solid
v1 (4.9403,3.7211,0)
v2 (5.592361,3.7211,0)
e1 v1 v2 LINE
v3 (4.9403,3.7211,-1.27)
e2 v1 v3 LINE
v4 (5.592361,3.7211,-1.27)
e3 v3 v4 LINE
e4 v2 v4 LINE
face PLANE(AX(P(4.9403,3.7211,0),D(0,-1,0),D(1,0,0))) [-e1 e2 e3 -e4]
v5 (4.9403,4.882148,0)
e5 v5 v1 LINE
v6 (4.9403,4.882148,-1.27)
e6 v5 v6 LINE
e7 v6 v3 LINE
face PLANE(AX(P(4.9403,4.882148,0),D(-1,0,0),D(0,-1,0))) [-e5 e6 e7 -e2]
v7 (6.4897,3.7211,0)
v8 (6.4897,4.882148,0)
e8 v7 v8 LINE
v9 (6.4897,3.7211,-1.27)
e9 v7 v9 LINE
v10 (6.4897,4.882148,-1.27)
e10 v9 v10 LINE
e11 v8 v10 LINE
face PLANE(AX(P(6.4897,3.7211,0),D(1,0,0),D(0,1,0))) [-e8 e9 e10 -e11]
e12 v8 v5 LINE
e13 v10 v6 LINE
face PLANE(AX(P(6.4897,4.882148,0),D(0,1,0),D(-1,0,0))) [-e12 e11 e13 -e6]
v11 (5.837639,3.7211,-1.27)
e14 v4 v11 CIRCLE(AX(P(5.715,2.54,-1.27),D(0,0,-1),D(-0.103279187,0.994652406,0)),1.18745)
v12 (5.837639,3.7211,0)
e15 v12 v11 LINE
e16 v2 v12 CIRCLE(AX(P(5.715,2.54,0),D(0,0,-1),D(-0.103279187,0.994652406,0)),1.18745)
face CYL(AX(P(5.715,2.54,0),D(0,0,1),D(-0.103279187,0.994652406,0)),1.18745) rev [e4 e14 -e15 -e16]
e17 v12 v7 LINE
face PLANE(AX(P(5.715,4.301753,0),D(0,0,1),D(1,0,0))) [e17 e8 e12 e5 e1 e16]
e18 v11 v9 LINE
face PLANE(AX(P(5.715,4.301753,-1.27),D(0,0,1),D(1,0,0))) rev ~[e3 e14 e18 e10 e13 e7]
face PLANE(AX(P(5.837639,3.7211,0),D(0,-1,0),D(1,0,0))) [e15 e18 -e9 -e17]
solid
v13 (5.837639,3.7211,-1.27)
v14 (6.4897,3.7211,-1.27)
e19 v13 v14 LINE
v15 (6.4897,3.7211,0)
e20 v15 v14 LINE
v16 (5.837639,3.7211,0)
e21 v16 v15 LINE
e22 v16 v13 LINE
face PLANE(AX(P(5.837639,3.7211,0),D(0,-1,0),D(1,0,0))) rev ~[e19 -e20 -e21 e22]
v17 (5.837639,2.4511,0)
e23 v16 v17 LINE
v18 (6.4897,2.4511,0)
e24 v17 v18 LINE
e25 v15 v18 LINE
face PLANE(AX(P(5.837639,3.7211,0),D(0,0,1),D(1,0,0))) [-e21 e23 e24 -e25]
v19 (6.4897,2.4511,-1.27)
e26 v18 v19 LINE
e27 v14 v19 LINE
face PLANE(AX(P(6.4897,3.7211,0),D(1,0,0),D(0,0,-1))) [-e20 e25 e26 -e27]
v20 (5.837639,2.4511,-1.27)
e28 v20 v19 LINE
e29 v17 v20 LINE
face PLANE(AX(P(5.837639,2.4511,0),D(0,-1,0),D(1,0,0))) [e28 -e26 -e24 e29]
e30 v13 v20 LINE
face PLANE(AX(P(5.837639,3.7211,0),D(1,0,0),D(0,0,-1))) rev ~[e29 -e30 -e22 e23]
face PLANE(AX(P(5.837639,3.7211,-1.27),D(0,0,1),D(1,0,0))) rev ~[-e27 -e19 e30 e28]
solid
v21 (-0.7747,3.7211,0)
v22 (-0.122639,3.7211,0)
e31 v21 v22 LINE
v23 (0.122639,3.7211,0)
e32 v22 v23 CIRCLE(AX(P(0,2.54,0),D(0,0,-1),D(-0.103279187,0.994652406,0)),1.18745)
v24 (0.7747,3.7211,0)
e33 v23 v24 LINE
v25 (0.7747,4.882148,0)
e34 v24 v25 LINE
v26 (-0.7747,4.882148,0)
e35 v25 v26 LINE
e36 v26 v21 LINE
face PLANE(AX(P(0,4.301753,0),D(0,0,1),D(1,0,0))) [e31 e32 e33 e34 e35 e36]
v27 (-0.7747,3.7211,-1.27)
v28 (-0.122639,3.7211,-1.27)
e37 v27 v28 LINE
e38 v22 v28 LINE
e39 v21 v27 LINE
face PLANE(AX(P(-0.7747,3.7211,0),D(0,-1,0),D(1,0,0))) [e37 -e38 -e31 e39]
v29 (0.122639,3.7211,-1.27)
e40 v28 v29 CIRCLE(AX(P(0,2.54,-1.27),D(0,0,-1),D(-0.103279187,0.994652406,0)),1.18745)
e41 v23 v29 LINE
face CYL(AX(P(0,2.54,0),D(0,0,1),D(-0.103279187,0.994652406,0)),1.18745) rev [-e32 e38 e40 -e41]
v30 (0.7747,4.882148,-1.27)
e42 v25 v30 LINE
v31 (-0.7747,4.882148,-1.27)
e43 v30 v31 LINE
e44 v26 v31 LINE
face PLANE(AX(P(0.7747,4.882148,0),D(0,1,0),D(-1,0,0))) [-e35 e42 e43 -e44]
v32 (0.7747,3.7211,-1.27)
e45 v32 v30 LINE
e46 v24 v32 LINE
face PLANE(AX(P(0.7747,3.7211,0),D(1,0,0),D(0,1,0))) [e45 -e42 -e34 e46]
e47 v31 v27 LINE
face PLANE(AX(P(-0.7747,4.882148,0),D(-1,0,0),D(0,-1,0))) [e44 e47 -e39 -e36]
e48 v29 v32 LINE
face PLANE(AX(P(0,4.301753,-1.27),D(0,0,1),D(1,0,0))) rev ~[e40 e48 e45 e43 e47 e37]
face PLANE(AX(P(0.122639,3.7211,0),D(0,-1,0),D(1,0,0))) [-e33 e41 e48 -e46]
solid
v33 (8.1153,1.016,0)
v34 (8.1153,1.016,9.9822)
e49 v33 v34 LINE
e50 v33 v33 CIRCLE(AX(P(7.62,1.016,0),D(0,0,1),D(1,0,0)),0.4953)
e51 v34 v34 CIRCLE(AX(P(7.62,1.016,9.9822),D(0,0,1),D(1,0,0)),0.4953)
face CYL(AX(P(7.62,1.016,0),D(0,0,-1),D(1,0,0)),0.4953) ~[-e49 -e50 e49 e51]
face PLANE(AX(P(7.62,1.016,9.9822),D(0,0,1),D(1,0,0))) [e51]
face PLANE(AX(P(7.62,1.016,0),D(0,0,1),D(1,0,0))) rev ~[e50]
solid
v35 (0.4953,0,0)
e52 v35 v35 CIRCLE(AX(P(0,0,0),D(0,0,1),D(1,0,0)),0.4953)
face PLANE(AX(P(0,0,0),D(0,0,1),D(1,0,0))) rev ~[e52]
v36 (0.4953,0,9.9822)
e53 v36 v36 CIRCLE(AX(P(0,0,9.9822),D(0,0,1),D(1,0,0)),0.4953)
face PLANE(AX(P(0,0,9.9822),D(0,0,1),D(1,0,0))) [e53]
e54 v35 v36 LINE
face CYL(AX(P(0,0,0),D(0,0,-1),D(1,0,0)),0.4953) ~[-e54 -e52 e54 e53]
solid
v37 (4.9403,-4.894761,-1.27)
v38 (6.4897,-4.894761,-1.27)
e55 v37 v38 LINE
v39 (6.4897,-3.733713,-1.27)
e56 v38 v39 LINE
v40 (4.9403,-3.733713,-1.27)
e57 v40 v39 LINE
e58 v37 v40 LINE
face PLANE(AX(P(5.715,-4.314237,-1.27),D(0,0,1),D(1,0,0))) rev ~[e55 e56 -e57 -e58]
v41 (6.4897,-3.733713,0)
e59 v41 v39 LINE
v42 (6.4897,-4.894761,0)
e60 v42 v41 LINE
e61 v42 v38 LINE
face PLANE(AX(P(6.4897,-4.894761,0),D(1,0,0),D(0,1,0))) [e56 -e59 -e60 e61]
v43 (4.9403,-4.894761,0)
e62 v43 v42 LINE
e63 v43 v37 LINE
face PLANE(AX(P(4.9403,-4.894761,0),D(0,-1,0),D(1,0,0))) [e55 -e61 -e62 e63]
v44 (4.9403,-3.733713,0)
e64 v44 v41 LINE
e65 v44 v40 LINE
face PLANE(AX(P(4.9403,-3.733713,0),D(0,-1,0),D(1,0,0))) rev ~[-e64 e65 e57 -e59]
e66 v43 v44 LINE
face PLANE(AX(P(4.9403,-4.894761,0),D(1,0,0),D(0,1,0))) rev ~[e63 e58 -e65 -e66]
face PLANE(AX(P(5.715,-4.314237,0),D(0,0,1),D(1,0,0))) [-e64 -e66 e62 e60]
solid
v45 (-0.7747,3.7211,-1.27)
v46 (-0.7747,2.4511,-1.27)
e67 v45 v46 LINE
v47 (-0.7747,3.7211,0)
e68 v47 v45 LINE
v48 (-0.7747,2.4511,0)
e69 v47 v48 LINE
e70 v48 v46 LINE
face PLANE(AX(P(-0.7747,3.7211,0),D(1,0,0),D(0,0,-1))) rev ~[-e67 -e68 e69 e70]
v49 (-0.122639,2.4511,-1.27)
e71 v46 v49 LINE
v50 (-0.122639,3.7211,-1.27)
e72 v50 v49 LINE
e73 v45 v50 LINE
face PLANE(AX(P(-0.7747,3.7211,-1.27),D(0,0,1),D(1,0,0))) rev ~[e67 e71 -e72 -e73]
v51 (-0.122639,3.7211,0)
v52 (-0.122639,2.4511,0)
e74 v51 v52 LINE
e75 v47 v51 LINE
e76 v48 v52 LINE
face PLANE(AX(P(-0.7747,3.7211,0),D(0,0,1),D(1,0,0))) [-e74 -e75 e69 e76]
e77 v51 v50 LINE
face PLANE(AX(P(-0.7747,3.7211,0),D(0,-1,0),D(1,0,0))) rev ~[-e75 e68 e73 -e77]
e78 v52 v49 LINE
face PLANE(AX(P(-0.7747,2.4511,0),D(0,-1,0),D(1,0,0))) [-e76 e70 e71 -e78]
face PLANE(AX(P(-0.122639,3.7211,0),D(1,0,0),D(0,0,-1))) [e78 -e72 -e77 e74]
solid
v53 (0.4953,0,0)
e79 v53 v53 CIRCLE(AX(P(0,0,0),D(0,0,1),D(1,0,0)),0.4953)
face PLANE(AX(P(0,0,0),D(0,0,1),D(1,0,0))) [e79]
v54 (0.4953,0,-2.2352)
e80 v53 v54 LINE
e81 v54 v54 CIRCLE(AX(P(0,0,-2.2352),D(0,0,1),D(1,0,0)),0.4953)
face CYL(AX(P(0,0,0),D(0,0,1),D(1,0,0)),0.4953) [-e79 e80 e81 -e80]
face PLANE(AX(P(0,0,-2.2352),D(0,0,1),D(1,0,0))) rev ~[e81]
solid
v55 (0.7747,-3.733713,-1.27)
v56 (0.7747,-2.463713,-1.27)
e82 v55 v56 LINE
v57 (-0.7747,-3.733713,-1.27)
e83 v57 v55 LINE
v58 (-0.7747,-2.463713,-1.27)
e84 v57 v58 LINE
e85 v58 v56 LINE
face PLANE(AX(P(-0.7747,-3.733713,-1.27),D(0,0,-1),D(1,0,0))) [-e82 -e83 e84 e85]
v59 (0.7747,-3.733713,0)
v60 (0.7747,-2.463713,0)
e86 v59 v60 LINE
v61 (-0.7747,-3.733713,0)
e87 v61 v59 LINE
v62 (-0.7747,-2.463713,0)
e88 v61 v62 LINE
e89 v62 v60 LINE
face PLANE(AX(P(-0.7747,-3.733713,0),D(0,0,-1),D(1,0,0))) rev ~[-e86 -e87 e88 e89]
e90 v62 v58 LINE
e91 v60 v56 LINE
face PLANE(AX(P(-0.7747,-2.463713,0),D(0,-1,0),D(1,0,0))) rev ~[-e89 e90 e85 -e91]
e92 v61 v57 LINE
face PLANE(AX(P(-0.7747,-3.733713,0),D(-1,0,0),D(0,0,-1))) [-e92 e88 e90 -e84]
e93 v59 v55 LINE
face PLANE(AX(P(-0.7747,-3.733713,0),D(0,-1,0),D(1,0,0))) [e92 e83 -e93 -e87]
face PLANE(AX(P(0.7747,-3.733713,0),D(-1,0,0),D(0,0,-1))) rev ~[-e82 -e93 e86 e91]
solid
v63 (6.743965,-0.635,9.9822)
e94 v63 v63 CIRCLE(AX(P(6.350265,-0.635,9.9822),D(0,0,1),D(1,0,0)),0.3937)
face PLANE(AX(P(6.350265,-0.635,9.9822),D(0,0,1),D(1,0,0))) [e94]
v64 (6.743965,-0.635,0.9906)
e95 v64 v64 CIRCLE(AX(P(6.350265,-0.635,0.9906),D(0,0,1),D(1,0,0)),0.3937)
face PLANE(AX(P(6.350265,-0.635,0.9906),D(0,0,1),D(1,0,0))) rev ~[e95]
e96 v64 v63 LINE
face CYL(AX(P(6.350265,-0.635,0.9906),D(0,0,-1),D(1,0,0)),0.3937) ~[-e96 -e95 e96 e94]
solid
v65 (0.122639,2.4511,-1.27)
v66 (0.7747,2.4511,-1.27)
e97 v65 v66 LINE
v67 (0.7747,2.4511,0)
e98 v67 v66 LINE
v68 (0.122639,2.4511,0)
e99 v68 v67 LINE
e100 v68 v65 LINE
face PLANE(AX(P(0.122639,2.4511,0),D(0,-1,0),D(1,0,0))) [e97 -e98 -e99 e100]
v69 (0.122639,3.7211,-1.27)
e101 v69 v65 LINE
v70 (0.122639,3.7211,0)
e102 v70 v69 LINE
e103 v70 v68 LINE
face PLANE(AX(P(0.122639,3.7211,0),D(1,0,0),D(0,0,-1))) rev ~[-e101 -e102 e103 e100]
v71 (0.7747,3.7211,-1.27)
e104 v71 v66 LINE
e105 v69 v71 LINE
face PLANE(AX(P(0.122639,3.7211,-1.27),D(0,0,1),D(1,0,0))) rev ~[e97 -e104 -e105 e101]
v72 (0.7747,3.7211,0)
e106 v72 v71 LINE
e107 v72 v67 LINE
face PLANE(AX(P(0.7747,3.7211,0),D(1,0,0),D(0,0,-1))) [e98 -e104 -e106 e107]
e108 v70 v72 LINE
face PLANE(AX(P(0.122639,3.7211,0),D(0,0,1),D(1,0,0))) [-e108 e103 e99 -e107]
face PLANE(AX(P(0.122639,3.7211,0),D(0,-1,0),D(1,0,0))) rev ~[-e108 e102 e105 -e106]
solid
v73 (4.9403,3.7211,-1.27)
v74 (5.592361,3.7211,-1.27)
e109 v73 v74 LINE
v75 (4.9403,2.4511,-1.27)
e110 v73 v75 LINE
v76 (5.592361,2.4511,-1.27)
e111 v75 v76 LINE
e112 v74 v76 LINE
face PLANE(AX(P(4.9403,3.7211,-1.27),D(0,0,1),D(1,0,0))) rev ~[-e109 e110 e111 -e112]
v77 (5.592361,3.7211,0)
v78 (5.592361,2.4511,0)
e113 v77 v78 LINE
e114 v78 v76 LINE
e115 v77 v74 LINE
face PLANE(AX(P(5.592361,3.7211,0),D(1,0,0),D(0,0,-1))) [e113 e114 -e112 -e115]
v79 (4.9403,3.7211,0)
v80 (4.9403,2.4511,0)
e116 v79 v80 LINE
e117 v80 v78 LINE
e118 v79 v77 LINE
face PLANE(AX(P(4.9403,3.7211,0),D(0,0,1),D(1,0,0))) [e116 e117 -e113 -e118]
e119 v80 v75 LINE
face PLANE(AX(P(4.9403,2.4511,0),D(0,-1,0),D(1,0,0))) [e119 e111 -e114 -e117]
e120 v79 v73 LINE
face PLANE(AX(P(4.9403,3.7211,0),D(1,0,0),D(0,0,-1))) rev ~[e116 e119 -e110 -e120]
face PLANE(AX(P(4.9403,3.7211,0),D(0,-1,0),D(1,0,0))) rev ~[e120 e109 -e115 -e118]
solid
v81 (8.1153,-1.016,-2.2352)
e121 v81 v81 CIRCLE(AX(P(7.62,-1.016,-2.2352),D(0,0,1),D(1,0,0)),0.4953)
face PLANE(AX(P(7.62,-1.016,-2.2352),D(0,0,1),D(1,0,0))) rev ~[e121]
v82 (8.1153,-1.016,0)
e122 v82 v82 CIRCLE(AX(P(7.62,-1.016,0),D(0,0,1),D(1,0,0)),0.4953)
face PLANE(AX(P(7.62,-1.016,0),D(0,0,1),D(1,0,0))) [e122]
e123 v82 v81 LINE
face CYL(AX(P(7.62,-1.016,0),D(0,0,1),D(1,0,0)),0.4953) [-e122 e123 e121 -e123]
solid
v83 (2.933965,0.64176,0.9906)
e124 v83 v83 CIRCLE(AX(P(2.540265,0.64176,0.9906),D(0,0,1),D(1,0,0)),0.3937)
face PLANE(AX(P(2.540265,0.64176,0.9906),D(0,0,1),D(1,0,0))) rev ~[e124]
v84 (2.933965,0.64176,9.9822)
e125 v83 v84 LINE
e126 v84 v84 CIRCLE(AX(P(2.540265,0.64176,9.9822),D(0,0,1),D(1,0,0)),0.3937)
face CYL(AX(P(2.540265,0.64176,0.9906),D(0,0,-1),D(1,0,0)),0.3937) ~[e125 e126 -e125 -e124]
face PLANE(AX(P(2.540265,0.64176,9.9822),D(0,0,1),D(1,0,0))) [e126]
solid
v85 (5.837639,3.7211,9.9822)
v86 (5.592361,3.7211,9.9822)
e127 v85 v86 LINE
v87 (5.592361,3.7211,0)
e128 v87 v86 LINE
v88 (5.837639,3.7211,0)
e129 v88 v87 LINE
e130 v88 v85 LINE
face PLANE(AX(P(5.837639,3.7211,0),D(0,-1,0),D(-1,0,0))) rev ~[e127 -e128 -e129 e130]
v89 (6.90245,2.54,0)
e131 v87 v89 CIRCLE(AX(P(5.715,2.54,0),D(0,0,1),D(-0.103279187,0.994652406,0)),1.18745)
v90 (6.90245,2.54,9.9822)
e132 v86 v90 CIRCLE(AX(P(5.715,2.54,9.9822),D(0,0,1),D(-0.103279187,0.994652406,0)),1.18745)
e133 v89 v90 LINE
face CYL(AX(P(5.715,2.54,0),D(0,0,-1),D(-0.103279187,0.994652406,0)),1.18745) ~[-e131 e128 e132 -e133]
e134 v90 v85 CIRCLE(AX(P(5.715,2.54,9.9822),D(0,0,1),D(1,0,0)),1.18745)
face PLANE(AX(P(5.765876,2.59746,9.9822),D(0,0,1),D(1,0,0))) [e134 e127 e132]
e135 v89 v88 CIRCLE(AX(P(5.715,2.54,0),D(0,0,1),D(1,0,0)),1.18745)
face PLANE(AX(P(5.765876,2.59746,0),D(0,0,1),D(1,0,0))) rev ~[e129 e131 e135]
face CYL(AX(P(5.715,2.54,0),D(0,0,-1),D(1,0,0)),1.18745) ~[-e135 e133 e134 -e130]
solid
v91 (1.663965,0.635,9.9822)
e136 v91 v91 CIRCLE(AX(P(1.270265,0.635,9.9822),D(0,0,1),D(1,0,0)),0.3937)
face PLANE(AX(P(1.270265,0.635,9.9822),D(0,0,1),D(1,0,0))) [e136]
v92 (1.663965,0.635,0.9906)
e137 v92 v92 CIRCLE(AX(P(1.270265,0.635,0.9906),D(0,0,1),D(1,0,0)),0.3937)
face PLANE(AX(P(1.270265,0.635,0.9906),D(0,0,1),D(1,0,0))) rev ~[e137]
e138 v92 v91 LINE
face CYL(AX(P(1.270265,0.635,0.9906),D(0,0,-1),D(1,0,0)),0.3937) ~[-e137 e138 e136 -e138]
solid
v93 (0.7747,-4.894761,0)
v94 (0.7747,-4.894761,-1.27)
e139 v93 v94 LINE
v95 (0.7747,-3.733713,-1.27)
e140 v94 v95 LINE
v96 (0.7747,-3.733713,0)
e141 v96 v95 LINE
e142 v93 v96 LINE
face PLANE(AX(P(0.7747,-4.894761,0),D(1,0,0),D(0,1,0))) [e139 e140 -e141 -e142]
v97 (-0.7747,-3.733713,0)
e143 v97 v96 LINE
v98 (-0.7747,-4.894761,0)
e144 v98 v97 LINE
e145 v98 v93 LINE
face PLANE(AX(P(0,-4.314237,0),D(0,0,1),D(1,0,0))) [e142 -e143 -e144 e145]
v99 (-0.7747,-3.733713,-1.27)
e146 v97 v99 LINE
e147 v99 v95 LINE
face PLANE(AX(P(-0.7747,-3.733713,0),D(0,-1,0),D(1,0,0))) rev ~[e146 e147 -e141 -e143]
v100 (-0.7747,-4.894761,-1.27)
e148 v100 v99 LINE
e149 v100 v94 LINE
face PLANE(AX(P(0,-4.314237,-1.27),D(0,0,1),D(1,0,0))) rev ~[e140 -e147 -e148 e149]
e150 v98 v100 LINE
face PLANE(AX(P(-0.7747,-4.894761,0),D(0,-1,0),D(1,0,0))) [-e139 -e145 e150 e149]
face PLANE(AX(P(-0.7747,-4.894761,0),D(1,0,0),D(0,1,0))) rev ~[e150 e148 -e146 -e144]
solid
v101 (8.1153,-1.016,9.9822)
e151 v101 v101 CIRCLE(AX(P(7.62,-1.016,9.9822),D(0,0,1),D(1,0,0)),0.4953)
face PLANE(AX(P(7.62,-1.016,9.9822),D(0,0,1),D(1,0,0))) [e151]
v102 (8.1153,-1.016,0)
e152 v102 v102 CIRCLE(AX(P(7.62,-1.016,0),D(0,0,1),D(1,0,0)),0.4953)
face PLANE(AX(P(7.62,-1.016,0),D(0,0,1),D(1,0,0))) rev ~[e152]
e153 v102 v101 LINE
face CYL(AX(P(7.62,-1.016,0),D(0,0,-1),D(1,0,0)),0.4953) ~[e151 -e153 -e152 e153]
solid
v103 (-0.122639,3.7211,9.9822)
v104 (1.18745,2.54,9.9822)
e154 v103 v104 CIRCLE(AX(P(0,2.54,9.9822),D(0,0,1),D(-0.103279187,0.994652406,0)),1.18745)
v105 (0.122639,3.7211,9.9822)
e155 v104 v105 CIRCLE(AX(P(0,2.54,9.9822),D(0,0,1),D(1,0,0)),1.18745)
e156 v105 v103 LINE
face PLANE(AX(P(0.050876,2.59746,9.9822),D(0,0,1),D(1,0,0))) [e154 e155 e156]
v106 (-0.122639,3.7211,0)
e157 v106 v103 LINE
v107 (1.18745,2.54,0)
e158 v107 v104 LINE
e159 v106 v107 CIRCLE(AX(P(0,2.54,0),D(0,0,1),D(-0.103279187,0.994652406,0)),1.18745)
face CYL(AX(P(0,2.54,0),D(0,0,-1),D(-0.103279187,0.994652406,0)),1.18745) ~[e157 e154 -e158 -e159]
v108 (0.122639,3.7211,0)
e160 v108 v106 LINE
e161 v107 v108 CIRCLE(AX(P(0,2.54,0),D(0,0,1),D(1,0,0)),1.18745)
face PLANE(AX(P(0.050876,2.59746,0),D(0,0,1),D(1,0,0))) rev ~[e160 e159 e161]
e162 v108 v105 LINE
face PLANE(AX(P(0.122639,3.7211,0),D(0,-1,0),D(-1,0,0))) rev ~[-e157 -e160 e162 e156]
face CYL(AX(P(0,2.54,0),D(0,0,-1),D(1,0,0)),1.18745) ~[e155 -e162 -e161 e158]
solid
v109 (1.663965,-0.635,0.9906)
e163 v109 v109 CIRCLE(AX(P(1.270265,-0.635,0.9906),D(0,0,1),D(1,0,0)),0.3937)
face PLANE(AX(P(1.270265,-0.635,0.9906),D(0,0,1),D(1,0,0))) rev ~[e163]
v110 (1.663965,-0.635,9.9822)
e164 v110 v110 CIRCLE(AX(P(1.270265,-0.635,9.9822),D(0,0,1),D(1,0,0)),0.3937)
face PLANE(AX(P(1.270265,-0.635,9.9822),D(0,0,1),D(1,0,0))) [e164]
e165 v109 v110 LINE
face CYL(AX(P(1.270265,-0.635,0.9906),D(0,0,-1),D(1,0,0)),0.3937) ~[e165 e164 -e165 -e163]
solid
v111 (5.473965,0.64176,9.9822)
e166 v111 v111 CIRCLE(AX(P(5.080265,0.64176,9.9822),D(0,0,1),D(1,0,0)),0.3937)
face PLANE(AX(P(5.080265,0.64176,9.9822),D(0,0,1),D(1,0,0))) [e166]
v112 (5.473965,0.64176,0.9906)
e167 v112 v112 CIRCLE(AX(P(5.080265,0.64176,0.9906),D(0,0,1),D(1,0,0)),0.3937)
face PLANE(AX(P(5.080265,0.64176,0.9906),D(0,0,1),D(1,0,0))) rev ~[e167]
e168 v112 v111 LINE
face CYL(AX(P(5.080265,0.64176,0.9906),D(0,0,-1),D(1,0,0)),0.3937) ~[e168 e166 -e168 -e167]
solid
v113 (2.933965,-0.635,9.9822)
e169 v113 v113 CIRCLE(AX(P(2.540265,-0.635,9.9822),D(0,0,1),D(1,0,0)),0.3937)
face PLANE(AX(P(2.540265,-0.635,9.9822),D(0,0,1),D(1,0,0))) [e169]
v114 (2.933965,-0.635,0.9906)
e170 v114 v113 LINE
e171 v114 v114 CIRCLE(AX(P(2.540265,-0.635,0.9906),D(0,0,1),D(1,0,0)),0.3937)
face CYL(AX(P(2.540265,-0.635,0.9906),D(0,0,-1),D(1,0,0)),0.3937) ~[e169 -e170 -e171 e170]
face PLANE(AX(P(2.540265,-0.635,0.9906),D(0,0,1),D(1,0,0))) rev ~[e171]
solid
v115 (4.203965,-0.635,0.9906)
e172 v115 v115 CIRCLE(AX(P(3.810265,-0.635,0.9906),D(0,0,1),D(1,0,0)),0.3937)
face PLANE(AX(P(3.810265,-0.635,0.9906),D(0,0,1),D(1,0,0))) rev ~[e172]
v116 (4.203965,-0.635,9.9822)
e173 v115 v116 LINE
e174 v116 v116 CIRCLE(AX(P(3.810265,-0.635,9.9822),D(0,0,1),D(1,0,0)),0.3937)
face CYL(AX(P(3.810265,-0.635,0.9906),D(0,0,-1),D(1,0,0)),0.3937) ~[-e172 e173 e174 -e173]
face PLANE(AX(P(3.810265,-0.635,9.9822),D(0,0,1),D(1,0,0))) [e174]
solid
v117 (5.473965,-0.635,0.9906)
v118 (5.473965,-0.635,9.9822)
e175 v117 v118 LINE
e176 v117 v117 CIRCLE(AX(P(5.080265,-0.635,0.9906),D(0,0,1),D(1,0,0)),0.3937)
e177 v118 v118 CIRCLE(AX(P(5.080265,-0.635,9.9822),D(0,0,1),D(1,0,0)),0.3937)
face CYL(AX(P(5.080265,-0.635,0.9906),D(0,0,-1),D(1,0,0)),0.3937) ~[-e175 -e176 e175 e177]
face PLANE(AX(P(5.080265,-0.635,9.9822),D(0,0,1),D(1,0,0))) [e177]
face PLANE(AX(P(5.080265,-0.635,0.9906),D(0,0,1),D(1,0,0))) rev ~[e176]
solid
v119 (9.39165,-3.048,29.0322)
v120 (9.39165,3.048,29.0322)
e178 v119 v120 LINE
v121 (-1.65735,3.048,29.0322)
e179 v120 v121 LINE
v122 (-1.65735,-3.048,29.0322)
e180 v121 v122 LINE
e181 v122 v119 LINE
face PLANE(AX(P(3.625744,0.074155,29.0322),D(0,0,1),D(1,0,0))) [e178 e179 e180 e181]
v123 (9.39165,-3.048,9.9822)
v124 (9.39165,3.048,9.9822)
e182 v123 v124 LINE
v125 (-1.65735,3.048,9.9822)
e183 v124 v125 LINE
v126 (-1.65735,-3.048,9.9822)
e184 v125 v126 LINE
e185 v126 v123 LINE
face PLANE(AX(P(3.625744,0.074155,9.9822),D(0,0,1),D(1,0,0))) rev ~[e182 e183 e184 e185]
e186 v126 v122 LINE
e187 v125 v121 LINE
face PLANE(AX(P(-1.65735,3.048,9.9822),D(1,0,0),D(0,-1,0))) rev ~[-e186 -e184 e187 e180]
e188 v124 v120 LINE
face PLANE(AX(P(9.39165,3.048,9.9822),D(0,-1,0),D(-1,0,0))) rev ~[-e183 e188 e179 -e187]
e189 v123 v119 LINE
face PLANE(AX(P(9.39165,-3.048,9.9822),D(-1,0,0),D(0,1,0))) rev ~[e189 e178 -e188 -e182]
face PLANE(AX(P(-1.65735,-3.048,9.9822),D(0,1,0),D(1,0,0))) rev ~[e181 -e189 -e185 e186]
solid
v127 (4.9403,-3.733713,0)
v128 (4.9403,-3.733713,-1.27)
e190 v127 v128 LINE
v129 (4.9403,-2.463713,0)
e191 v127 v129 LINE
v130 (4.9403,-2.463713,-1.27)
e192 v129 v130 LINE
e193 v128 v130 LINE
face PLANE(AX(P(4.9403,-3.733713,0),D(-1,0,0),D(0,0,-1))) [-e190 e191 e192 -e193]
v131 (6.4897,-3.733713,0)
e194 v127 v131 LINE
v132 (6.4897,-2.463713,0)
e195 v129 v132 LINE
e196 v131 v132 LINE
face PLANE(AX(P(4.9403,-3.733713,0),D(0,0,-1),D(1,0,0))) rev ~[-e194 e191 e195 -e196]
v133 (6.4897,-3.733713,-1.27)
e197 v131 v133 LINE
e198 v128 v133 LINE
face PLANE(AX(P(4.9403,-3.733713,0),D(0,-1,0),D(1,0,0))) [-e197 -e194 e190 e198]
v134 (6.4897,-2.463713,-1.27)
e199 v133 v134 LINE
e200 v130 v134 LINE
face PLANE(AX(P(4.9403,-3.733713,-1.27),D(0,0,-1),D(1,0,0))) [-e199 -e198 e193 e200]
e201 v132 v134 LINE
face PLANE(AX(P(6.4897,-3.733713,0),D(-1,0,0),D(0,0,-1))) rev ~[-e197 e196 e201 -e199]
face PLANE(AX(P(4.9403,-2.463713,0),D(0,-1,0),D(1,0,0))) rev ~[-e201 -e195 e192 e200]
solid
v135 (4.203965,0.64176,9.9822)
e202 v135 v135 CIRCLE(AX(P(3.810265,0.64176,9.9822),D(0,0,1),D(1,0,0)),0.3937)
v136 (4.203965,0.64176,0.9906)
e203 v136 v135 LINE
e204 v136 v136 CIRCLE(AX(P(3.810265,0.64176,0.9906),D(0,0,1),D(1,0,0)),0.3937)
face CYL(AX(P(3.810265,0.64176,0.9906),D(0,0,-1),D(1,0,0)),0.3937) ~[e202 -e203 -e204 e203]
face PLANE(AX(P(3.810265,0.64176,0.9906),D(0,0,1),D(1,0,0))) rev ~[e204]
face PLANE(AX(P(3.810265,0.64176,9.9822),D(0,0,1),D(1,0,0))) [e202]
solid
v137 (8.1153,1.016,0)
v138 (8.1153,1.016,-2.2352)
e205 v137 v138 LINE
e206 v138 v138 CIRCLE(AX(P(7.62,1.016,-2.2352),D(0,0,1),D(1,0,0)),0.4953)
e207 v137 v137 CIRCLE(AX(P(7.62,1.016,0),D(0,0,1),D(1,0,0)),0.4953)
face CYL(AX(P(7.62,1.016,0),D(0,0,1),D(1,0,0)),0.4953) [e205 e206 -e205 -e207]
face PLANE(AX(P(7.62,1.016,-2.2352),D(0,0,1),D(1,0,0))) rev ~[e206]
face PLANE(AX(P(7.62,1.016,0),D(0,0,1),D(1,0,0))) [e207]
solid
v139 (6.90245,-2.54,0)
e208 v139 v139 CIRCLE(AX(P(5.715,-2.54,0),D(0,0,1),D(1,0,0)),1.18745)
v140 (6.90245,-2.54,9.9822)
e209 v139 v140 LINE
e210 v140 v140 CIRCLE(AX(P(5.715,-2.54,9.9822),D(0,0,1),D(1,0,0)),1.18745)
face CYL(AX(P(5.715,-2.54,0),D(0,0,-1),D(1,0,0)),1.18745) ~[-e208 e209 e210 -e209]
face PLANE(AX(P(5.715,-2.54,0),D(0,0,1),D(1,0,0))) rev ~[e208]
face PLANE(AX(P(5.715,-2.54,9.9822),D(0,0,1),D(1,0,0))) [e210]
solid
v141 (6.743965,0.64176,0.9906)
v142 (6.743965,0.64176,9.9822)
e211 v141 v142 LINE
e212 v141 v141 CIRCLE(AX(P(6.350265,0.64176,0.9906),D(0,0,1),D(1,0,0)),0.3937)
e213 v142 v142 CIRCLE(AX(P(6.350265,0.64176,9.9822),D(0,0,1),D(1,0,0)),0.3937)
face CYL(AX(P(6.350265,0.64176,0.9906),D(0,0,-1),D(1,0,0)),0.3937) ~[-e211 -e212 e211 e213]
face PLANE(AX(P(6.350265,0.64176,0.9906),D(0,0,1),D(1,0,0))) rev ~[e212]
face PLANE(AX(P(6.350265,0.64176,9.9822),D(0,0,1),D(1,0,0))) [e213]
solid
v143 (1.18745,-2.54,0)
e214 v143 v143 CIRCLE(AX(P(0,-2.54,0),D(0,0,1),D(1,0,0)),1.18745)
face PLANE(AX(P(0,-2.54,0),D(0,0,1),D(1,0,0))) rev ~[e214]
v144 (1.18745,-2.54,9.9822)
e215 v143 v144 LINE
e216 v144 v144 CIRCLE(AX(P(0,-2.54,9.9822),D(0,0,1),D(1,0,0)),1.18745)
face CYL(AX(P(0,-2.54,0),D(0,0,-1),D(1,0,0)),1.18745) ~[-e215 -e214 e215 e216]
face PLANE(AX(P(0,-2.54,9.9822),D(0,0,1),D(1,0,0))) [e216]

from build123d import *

# Parameters (mm, degrees)
F1_DEPTH = 1.27
F0_W     = 1.5494
F0_H     = 1.161047956
F0_R     = 0.4953
F2_DEPTH = 2.2352
F0_R_2   = 1.18745
F3_DEPTH = 9.9822
F4_DEPTH = 1.27
F5_DEPTH = 1.27
F6_START = 0.9906
F0_R_3   = 0.3937
F6_DEPTH = 8.9916
F8_DEPTH = 19.05
F9_DEPTH = 9.9822


with BuildPart() as f1:
    # F0 (on Top) → F1 (new body)
    with BuildSketch(Plane.XY):
        with BuildLine():
            ThreePointArc((-0.1226388703, 3.7211), (0, 3.72745), (0.1226388703, 3.7211))
            Line((0.1226388703, 3.7211), (0.7747, 3.7211))
            Line((0.7747, 3.7211), (0.7747, 4.882147956))
            Line((0.7747, 4.882147956), (-0.7747, 4.882147956))
            Line((-0.7747, 4.882147956), (-0.7747, 3.7211))
            Line((-0.7747, 3.7211), (-0.1226388703, 3.7211))
        make_face()
    extrude(amount=-F1_DEPTH)


with BuildPart() as f1b:
    # F0 (on Top) → F1, piece 2 (new body)
    with BuildSketch(Plane.XY):
        with BuildLine():
            ThreePointArc((5.5923611297, 3.7211), (5.715, 3.72745), (5.8376388703, 3.7211))
            Line((5.8376388703, 3.7211), (6.4897, 3.7211))
            Line((6.4897, 3.7211), (6.4897, 4.882147956))
            Line((6.4897, 4.882147956), (4.9403, 4.882147956))
            Line((4.9403, 4.882147956), (4.9403, 3.7211))
            Line((4.9403, 3.7211), (5.5923611297, 3.7211))
        make_face()
    extrude(amount=-F1_DEPTH)


with BuildPart() as f1c:
    # F0 (on Top) → F1, piece 3 (new body)
    with BuildSketch(Plane.XY):
        with Locations((0, -4.3142373906)):
            Rectangle(F0_W, F0_H)
    extrude(amount=-F1_DEPTH)


with BuildPart() as f1d:
    # F0 (on Top) → F1, piece 4 (new body)
    with BuildSketch(Plane.XY):
        with Locations((5.715, -4.3142373906)):
            Rectangle(F0_W, F0_H)
    extrude(amount=-F1_DEPTH)


with BuildPart() as f2:
    # F0 (on Top) → F2 (new body)
    with BuildSketch(Plane.XY):
        with Locations((7.62, -1.016)):
            Circle(F0_R)
    extrude(amount=-F2_DEPTH)


with BuildPart() as f2b:
    # F0 (on Top) → F2, piece 2 (new body)
    with BuildSketch(Plane.XY):
        with Locations((7.62, 1.016)):
            Circle(F0_R)
    extrude(amount=-F2_DEPTH)


with BuildPart() as f2c:
    # F0 (on Top) → F2, piece 3 (new body)
    with BuildSketch(Plane.XY):
        Circle(F0_R)
    extrude(amount=-F2_DEPTH)


with BuildPart() as f3:
    # F0 (on Top) → F3 (new body)
    with BuildSketch(Plane.XY):
        with Locations((0, -2.54)):
            Circle(F0_R_2)
        with Locations((5.715, -2.54)):
            Circle(F0_R_2)
        with BuildLine():
            ThreePointArc((5.5923611297, 3.7211), (4.9198868081, 1.6580518641), (6.90245, 2.54))
            ThreePointArc((6.90245, 2.54), (6.5969481359, 3.3351131919), (5.8376388703, 3.7211))
            Line((5.8376388703, 3.7211), (5.5923611297, 3.7211))
        make_face()
        with BuildLine():
            ThreePointArc((-0.1226388703, 3.7211), (-0.7951131919, 1.6580518641), (1.18745, 2.54))
            ThreePointArc((1.18745, 2.54), (0.8819481359, 3.3351131919), (0.1226388703, 3.7211))
            Line((0.1226388703, 3.7211), (-0.1226388703, 3.7211))
        make_face()
    extrude(amount=F3_DEPTH)


with BuildPart() as f4:
    # F4 (new): a face of the model
    f4_faces = [f1.part.faces().sort_by_distance(p)[0] for p in [
        (0.4486694351, 3.7211, -0.635),
    ]]
    extrude(f4_faces, amount=F4_DEPTH)


with BuildPart() as f4b:
    # F4#2 (new): a face of the model
    f4_2_faces = [f1.part.faces().sort_by_distance(p)[0] for p in [
        (-0.4486694351, 3.7211, -0.635),
    ]]
    extrude(f4_2_faces, amount=F4_DEPTH)


with BuildPart() as f4c:
    # F4#3 (new): a face of the model
    f4_3_faces = [f1b.part.faces().sort_by_distance(p)[0] for p in [
        (5.2663305649, 3.7211, -0.635),
    ]]
    extrude(f4_3_faces, amount=F4_DEPTH)


with BuildPart() as f4d:
    # F4#4 (new): a face of the model
    f4_4_faces = [f1b.part.faces().sort_by_distance(p)[0] for p in [
        (6.1636694351, 3.7211, -0.635),
    ]]
    extrude(f4_4_faces, amount=F4_DEPTH)


with BuildPart() as f5:
    # F5 (new): a face of the model
    f5_faces = [f1c.part.faces().sort_by_distance(p)[0] for p in [
        (0, -3.7337134127, -0.635),
    ]]
    extrude(f5_faces, amount=F5_DEPTH)


with BuildPart() as f5b:
    # F5#2 (new): a face of the model
    f5_2_faces = [f1d.part.faces().sort_by_distance(p)[0] for p in [
        (5.715, -3.7337134127, -0.635),
    ]]
    extrude(f5_2_faces, amount=F5_DEPTH)


with BuildPart() as f6:
    # F0 (on Top) → F6 (new body)
    with BuildSketch(Plane.XY.offset(F6_START)):
        with Locations((3.8102645494, -0.635)):
            Circle(F0_R_3)
    extrude(amount=F6_DEPTH)


with BuildPart() as f6b:
    # F0 (on Top) → F6, piece 2 (new body)
    with BuildSketch(Plane.XY.offset(F6_START)):
        with Locations((3.8102645494, 0.6417604301)):
            Circle(F0_R_3)
    extrude(amount=F6_DEPTH)


with BuildPart() as f6c:
    # F0 (on Top) → F6, piece 3 (new body)
    with BuildSketch(Plane.XY.offset(F6_START)):
        with Locations((2.5402645494, 0.6417604301)):
            Circle(F0_R_3)
    extrude(amount=F6_DEPTH)


with BuildPart() as f6d:
    # F0 (on Top) → F6, piece 4 (new body)
    with BuildSketch(Plane.XY.offset(F6_START)):
        with Locations((2.5402645494, -0.635)):
            Circle(F0_R_3)
    extrude(amount=F6_DEPTH)


with BuildPart() as f6e:
    # F0 (on Top) → F6, piece 5 (new body)
    with BuildSketch(Plane.XY.offset(F6_START)):
        with Locations((1.2702645494, -0.635)):
            Circle(F0_R_3)
    extrude(amount=F6_DEPTH)


with BuildPart() as f6f:
    # F0 (on Top) → F6, piece 6 (new body)
    with BuildSketch(Plane.XY.offset(F6_START)):
        with Locations((1.2702645494, 0.635)):
            Circle(F0_R_3)
    extrude(amount=F6_DEPTH)


with BuildPart() as f6g:
    # F0 (on Top) → F6, piece 7 (new body)
    with BuildSketch(Plane.XY.offset(F6_START)):
        with Locations((5.0802645494, -0.635)):
            Circle(F0_R_3)
    extrude(amount=F6_DEPTH)


with BuildPart() as f6h:
    # F0 (on Top) → F6, piece 8 (new body)
    with BuildSketch(Plane.XY.offset(F6_START)):
        with Locations((5.0802645494, 0.6417604301)):
            Circle(F0_R_3)
    extrude(amount=F6_DEPTH)


with BuildPart() as f6i:
    # F0 (on Top) → F6, piece 9 (new body)
    with BuildSketch(Plane.XY.offset(F6_START)):
        with Locations((6.3502645494, 0.6417604301)):
            Circle(F0_R_3)
    extrude(amount=F6_DEPTH)


with BuildPart() as f6j:
    # F0 (on Top) → F6, piece 10 (new body)
    with BuildSketch(Plane.XY.offset(F6_START)):
        with Locations((6.3502645494, -0.635)):
            Circle(F0_R_3)
    extrude(amount=F6_DEPTH)


with BuildPart() as f8:
    # F7 (on face) → F8 (new body)
    with BuildSketch(Plane.XY.offset(9.9822)):
        with BuildLine():
            Line((9.39165, -3.048), (9.39165, 3.048))
            Line((9.39165, 3.048), (1.0733002853, 3.048))
            ThreePointArc((1.0733002853, 3.048), (0, 1.35255), (-1.0733002853, 3.048))
            Line((-1.0733002853, 3.048), (-1.65735, 3.048))
            Line((-1.65735, 3.048), (-1.65735, -3.048))
            Line((-1.65735, -3.048), (9.39165, -3.048))
        make_face()
        with BuildLine():
            ThreePointArc((-1.0733002853, 3.048), (0, 1.35255), (1.0733002853, 3.048))
            Line((1.0733002853, 3.048), (-1.0733002853, 3.048))
        make_face()
    extrude(amount=F8_DEPTH)


with BuildPart() as f9:
    # F0 (on Top) → F9 (new body)
    with BuildSketch(Plane.XY):
        with Locations((7.62, 1.016)):
            Circle(F0_R)
    extrude(amount=F9_DEPTH)


with BuildPart() as f9b:
    # F0 (on Top) → F9, piece 2 (new body)
    with BuildSketch(Plane.XY):
        with Locations((7.62, -1.016)):
            Circle(F0_R)
    extrude(amount=F9_DEPTH)


with BuildPart() as f9c:
    # F0 (on Top) → F9, piece 3 (new body)
    with BuildSketch(Plane.XY):
        Circle(F0_R)
    extrude(amount=F9_DEPTH)


solid = Compound([f1.part, f1b.part, f1c.part, f1d.part, f2.part, f2b.part, f2c.part, f3.part, f4.part, f4b.part, f4c.part, f4d.part, f5.part, f5b.part, f6.part, f6b.part, f6c.part, f6d.part, f6e.part, f6f.part, f6g.part, f6h.part, f6i.part, f6j.part, f8.part, f9.part, f9b.part, f9c.part])
